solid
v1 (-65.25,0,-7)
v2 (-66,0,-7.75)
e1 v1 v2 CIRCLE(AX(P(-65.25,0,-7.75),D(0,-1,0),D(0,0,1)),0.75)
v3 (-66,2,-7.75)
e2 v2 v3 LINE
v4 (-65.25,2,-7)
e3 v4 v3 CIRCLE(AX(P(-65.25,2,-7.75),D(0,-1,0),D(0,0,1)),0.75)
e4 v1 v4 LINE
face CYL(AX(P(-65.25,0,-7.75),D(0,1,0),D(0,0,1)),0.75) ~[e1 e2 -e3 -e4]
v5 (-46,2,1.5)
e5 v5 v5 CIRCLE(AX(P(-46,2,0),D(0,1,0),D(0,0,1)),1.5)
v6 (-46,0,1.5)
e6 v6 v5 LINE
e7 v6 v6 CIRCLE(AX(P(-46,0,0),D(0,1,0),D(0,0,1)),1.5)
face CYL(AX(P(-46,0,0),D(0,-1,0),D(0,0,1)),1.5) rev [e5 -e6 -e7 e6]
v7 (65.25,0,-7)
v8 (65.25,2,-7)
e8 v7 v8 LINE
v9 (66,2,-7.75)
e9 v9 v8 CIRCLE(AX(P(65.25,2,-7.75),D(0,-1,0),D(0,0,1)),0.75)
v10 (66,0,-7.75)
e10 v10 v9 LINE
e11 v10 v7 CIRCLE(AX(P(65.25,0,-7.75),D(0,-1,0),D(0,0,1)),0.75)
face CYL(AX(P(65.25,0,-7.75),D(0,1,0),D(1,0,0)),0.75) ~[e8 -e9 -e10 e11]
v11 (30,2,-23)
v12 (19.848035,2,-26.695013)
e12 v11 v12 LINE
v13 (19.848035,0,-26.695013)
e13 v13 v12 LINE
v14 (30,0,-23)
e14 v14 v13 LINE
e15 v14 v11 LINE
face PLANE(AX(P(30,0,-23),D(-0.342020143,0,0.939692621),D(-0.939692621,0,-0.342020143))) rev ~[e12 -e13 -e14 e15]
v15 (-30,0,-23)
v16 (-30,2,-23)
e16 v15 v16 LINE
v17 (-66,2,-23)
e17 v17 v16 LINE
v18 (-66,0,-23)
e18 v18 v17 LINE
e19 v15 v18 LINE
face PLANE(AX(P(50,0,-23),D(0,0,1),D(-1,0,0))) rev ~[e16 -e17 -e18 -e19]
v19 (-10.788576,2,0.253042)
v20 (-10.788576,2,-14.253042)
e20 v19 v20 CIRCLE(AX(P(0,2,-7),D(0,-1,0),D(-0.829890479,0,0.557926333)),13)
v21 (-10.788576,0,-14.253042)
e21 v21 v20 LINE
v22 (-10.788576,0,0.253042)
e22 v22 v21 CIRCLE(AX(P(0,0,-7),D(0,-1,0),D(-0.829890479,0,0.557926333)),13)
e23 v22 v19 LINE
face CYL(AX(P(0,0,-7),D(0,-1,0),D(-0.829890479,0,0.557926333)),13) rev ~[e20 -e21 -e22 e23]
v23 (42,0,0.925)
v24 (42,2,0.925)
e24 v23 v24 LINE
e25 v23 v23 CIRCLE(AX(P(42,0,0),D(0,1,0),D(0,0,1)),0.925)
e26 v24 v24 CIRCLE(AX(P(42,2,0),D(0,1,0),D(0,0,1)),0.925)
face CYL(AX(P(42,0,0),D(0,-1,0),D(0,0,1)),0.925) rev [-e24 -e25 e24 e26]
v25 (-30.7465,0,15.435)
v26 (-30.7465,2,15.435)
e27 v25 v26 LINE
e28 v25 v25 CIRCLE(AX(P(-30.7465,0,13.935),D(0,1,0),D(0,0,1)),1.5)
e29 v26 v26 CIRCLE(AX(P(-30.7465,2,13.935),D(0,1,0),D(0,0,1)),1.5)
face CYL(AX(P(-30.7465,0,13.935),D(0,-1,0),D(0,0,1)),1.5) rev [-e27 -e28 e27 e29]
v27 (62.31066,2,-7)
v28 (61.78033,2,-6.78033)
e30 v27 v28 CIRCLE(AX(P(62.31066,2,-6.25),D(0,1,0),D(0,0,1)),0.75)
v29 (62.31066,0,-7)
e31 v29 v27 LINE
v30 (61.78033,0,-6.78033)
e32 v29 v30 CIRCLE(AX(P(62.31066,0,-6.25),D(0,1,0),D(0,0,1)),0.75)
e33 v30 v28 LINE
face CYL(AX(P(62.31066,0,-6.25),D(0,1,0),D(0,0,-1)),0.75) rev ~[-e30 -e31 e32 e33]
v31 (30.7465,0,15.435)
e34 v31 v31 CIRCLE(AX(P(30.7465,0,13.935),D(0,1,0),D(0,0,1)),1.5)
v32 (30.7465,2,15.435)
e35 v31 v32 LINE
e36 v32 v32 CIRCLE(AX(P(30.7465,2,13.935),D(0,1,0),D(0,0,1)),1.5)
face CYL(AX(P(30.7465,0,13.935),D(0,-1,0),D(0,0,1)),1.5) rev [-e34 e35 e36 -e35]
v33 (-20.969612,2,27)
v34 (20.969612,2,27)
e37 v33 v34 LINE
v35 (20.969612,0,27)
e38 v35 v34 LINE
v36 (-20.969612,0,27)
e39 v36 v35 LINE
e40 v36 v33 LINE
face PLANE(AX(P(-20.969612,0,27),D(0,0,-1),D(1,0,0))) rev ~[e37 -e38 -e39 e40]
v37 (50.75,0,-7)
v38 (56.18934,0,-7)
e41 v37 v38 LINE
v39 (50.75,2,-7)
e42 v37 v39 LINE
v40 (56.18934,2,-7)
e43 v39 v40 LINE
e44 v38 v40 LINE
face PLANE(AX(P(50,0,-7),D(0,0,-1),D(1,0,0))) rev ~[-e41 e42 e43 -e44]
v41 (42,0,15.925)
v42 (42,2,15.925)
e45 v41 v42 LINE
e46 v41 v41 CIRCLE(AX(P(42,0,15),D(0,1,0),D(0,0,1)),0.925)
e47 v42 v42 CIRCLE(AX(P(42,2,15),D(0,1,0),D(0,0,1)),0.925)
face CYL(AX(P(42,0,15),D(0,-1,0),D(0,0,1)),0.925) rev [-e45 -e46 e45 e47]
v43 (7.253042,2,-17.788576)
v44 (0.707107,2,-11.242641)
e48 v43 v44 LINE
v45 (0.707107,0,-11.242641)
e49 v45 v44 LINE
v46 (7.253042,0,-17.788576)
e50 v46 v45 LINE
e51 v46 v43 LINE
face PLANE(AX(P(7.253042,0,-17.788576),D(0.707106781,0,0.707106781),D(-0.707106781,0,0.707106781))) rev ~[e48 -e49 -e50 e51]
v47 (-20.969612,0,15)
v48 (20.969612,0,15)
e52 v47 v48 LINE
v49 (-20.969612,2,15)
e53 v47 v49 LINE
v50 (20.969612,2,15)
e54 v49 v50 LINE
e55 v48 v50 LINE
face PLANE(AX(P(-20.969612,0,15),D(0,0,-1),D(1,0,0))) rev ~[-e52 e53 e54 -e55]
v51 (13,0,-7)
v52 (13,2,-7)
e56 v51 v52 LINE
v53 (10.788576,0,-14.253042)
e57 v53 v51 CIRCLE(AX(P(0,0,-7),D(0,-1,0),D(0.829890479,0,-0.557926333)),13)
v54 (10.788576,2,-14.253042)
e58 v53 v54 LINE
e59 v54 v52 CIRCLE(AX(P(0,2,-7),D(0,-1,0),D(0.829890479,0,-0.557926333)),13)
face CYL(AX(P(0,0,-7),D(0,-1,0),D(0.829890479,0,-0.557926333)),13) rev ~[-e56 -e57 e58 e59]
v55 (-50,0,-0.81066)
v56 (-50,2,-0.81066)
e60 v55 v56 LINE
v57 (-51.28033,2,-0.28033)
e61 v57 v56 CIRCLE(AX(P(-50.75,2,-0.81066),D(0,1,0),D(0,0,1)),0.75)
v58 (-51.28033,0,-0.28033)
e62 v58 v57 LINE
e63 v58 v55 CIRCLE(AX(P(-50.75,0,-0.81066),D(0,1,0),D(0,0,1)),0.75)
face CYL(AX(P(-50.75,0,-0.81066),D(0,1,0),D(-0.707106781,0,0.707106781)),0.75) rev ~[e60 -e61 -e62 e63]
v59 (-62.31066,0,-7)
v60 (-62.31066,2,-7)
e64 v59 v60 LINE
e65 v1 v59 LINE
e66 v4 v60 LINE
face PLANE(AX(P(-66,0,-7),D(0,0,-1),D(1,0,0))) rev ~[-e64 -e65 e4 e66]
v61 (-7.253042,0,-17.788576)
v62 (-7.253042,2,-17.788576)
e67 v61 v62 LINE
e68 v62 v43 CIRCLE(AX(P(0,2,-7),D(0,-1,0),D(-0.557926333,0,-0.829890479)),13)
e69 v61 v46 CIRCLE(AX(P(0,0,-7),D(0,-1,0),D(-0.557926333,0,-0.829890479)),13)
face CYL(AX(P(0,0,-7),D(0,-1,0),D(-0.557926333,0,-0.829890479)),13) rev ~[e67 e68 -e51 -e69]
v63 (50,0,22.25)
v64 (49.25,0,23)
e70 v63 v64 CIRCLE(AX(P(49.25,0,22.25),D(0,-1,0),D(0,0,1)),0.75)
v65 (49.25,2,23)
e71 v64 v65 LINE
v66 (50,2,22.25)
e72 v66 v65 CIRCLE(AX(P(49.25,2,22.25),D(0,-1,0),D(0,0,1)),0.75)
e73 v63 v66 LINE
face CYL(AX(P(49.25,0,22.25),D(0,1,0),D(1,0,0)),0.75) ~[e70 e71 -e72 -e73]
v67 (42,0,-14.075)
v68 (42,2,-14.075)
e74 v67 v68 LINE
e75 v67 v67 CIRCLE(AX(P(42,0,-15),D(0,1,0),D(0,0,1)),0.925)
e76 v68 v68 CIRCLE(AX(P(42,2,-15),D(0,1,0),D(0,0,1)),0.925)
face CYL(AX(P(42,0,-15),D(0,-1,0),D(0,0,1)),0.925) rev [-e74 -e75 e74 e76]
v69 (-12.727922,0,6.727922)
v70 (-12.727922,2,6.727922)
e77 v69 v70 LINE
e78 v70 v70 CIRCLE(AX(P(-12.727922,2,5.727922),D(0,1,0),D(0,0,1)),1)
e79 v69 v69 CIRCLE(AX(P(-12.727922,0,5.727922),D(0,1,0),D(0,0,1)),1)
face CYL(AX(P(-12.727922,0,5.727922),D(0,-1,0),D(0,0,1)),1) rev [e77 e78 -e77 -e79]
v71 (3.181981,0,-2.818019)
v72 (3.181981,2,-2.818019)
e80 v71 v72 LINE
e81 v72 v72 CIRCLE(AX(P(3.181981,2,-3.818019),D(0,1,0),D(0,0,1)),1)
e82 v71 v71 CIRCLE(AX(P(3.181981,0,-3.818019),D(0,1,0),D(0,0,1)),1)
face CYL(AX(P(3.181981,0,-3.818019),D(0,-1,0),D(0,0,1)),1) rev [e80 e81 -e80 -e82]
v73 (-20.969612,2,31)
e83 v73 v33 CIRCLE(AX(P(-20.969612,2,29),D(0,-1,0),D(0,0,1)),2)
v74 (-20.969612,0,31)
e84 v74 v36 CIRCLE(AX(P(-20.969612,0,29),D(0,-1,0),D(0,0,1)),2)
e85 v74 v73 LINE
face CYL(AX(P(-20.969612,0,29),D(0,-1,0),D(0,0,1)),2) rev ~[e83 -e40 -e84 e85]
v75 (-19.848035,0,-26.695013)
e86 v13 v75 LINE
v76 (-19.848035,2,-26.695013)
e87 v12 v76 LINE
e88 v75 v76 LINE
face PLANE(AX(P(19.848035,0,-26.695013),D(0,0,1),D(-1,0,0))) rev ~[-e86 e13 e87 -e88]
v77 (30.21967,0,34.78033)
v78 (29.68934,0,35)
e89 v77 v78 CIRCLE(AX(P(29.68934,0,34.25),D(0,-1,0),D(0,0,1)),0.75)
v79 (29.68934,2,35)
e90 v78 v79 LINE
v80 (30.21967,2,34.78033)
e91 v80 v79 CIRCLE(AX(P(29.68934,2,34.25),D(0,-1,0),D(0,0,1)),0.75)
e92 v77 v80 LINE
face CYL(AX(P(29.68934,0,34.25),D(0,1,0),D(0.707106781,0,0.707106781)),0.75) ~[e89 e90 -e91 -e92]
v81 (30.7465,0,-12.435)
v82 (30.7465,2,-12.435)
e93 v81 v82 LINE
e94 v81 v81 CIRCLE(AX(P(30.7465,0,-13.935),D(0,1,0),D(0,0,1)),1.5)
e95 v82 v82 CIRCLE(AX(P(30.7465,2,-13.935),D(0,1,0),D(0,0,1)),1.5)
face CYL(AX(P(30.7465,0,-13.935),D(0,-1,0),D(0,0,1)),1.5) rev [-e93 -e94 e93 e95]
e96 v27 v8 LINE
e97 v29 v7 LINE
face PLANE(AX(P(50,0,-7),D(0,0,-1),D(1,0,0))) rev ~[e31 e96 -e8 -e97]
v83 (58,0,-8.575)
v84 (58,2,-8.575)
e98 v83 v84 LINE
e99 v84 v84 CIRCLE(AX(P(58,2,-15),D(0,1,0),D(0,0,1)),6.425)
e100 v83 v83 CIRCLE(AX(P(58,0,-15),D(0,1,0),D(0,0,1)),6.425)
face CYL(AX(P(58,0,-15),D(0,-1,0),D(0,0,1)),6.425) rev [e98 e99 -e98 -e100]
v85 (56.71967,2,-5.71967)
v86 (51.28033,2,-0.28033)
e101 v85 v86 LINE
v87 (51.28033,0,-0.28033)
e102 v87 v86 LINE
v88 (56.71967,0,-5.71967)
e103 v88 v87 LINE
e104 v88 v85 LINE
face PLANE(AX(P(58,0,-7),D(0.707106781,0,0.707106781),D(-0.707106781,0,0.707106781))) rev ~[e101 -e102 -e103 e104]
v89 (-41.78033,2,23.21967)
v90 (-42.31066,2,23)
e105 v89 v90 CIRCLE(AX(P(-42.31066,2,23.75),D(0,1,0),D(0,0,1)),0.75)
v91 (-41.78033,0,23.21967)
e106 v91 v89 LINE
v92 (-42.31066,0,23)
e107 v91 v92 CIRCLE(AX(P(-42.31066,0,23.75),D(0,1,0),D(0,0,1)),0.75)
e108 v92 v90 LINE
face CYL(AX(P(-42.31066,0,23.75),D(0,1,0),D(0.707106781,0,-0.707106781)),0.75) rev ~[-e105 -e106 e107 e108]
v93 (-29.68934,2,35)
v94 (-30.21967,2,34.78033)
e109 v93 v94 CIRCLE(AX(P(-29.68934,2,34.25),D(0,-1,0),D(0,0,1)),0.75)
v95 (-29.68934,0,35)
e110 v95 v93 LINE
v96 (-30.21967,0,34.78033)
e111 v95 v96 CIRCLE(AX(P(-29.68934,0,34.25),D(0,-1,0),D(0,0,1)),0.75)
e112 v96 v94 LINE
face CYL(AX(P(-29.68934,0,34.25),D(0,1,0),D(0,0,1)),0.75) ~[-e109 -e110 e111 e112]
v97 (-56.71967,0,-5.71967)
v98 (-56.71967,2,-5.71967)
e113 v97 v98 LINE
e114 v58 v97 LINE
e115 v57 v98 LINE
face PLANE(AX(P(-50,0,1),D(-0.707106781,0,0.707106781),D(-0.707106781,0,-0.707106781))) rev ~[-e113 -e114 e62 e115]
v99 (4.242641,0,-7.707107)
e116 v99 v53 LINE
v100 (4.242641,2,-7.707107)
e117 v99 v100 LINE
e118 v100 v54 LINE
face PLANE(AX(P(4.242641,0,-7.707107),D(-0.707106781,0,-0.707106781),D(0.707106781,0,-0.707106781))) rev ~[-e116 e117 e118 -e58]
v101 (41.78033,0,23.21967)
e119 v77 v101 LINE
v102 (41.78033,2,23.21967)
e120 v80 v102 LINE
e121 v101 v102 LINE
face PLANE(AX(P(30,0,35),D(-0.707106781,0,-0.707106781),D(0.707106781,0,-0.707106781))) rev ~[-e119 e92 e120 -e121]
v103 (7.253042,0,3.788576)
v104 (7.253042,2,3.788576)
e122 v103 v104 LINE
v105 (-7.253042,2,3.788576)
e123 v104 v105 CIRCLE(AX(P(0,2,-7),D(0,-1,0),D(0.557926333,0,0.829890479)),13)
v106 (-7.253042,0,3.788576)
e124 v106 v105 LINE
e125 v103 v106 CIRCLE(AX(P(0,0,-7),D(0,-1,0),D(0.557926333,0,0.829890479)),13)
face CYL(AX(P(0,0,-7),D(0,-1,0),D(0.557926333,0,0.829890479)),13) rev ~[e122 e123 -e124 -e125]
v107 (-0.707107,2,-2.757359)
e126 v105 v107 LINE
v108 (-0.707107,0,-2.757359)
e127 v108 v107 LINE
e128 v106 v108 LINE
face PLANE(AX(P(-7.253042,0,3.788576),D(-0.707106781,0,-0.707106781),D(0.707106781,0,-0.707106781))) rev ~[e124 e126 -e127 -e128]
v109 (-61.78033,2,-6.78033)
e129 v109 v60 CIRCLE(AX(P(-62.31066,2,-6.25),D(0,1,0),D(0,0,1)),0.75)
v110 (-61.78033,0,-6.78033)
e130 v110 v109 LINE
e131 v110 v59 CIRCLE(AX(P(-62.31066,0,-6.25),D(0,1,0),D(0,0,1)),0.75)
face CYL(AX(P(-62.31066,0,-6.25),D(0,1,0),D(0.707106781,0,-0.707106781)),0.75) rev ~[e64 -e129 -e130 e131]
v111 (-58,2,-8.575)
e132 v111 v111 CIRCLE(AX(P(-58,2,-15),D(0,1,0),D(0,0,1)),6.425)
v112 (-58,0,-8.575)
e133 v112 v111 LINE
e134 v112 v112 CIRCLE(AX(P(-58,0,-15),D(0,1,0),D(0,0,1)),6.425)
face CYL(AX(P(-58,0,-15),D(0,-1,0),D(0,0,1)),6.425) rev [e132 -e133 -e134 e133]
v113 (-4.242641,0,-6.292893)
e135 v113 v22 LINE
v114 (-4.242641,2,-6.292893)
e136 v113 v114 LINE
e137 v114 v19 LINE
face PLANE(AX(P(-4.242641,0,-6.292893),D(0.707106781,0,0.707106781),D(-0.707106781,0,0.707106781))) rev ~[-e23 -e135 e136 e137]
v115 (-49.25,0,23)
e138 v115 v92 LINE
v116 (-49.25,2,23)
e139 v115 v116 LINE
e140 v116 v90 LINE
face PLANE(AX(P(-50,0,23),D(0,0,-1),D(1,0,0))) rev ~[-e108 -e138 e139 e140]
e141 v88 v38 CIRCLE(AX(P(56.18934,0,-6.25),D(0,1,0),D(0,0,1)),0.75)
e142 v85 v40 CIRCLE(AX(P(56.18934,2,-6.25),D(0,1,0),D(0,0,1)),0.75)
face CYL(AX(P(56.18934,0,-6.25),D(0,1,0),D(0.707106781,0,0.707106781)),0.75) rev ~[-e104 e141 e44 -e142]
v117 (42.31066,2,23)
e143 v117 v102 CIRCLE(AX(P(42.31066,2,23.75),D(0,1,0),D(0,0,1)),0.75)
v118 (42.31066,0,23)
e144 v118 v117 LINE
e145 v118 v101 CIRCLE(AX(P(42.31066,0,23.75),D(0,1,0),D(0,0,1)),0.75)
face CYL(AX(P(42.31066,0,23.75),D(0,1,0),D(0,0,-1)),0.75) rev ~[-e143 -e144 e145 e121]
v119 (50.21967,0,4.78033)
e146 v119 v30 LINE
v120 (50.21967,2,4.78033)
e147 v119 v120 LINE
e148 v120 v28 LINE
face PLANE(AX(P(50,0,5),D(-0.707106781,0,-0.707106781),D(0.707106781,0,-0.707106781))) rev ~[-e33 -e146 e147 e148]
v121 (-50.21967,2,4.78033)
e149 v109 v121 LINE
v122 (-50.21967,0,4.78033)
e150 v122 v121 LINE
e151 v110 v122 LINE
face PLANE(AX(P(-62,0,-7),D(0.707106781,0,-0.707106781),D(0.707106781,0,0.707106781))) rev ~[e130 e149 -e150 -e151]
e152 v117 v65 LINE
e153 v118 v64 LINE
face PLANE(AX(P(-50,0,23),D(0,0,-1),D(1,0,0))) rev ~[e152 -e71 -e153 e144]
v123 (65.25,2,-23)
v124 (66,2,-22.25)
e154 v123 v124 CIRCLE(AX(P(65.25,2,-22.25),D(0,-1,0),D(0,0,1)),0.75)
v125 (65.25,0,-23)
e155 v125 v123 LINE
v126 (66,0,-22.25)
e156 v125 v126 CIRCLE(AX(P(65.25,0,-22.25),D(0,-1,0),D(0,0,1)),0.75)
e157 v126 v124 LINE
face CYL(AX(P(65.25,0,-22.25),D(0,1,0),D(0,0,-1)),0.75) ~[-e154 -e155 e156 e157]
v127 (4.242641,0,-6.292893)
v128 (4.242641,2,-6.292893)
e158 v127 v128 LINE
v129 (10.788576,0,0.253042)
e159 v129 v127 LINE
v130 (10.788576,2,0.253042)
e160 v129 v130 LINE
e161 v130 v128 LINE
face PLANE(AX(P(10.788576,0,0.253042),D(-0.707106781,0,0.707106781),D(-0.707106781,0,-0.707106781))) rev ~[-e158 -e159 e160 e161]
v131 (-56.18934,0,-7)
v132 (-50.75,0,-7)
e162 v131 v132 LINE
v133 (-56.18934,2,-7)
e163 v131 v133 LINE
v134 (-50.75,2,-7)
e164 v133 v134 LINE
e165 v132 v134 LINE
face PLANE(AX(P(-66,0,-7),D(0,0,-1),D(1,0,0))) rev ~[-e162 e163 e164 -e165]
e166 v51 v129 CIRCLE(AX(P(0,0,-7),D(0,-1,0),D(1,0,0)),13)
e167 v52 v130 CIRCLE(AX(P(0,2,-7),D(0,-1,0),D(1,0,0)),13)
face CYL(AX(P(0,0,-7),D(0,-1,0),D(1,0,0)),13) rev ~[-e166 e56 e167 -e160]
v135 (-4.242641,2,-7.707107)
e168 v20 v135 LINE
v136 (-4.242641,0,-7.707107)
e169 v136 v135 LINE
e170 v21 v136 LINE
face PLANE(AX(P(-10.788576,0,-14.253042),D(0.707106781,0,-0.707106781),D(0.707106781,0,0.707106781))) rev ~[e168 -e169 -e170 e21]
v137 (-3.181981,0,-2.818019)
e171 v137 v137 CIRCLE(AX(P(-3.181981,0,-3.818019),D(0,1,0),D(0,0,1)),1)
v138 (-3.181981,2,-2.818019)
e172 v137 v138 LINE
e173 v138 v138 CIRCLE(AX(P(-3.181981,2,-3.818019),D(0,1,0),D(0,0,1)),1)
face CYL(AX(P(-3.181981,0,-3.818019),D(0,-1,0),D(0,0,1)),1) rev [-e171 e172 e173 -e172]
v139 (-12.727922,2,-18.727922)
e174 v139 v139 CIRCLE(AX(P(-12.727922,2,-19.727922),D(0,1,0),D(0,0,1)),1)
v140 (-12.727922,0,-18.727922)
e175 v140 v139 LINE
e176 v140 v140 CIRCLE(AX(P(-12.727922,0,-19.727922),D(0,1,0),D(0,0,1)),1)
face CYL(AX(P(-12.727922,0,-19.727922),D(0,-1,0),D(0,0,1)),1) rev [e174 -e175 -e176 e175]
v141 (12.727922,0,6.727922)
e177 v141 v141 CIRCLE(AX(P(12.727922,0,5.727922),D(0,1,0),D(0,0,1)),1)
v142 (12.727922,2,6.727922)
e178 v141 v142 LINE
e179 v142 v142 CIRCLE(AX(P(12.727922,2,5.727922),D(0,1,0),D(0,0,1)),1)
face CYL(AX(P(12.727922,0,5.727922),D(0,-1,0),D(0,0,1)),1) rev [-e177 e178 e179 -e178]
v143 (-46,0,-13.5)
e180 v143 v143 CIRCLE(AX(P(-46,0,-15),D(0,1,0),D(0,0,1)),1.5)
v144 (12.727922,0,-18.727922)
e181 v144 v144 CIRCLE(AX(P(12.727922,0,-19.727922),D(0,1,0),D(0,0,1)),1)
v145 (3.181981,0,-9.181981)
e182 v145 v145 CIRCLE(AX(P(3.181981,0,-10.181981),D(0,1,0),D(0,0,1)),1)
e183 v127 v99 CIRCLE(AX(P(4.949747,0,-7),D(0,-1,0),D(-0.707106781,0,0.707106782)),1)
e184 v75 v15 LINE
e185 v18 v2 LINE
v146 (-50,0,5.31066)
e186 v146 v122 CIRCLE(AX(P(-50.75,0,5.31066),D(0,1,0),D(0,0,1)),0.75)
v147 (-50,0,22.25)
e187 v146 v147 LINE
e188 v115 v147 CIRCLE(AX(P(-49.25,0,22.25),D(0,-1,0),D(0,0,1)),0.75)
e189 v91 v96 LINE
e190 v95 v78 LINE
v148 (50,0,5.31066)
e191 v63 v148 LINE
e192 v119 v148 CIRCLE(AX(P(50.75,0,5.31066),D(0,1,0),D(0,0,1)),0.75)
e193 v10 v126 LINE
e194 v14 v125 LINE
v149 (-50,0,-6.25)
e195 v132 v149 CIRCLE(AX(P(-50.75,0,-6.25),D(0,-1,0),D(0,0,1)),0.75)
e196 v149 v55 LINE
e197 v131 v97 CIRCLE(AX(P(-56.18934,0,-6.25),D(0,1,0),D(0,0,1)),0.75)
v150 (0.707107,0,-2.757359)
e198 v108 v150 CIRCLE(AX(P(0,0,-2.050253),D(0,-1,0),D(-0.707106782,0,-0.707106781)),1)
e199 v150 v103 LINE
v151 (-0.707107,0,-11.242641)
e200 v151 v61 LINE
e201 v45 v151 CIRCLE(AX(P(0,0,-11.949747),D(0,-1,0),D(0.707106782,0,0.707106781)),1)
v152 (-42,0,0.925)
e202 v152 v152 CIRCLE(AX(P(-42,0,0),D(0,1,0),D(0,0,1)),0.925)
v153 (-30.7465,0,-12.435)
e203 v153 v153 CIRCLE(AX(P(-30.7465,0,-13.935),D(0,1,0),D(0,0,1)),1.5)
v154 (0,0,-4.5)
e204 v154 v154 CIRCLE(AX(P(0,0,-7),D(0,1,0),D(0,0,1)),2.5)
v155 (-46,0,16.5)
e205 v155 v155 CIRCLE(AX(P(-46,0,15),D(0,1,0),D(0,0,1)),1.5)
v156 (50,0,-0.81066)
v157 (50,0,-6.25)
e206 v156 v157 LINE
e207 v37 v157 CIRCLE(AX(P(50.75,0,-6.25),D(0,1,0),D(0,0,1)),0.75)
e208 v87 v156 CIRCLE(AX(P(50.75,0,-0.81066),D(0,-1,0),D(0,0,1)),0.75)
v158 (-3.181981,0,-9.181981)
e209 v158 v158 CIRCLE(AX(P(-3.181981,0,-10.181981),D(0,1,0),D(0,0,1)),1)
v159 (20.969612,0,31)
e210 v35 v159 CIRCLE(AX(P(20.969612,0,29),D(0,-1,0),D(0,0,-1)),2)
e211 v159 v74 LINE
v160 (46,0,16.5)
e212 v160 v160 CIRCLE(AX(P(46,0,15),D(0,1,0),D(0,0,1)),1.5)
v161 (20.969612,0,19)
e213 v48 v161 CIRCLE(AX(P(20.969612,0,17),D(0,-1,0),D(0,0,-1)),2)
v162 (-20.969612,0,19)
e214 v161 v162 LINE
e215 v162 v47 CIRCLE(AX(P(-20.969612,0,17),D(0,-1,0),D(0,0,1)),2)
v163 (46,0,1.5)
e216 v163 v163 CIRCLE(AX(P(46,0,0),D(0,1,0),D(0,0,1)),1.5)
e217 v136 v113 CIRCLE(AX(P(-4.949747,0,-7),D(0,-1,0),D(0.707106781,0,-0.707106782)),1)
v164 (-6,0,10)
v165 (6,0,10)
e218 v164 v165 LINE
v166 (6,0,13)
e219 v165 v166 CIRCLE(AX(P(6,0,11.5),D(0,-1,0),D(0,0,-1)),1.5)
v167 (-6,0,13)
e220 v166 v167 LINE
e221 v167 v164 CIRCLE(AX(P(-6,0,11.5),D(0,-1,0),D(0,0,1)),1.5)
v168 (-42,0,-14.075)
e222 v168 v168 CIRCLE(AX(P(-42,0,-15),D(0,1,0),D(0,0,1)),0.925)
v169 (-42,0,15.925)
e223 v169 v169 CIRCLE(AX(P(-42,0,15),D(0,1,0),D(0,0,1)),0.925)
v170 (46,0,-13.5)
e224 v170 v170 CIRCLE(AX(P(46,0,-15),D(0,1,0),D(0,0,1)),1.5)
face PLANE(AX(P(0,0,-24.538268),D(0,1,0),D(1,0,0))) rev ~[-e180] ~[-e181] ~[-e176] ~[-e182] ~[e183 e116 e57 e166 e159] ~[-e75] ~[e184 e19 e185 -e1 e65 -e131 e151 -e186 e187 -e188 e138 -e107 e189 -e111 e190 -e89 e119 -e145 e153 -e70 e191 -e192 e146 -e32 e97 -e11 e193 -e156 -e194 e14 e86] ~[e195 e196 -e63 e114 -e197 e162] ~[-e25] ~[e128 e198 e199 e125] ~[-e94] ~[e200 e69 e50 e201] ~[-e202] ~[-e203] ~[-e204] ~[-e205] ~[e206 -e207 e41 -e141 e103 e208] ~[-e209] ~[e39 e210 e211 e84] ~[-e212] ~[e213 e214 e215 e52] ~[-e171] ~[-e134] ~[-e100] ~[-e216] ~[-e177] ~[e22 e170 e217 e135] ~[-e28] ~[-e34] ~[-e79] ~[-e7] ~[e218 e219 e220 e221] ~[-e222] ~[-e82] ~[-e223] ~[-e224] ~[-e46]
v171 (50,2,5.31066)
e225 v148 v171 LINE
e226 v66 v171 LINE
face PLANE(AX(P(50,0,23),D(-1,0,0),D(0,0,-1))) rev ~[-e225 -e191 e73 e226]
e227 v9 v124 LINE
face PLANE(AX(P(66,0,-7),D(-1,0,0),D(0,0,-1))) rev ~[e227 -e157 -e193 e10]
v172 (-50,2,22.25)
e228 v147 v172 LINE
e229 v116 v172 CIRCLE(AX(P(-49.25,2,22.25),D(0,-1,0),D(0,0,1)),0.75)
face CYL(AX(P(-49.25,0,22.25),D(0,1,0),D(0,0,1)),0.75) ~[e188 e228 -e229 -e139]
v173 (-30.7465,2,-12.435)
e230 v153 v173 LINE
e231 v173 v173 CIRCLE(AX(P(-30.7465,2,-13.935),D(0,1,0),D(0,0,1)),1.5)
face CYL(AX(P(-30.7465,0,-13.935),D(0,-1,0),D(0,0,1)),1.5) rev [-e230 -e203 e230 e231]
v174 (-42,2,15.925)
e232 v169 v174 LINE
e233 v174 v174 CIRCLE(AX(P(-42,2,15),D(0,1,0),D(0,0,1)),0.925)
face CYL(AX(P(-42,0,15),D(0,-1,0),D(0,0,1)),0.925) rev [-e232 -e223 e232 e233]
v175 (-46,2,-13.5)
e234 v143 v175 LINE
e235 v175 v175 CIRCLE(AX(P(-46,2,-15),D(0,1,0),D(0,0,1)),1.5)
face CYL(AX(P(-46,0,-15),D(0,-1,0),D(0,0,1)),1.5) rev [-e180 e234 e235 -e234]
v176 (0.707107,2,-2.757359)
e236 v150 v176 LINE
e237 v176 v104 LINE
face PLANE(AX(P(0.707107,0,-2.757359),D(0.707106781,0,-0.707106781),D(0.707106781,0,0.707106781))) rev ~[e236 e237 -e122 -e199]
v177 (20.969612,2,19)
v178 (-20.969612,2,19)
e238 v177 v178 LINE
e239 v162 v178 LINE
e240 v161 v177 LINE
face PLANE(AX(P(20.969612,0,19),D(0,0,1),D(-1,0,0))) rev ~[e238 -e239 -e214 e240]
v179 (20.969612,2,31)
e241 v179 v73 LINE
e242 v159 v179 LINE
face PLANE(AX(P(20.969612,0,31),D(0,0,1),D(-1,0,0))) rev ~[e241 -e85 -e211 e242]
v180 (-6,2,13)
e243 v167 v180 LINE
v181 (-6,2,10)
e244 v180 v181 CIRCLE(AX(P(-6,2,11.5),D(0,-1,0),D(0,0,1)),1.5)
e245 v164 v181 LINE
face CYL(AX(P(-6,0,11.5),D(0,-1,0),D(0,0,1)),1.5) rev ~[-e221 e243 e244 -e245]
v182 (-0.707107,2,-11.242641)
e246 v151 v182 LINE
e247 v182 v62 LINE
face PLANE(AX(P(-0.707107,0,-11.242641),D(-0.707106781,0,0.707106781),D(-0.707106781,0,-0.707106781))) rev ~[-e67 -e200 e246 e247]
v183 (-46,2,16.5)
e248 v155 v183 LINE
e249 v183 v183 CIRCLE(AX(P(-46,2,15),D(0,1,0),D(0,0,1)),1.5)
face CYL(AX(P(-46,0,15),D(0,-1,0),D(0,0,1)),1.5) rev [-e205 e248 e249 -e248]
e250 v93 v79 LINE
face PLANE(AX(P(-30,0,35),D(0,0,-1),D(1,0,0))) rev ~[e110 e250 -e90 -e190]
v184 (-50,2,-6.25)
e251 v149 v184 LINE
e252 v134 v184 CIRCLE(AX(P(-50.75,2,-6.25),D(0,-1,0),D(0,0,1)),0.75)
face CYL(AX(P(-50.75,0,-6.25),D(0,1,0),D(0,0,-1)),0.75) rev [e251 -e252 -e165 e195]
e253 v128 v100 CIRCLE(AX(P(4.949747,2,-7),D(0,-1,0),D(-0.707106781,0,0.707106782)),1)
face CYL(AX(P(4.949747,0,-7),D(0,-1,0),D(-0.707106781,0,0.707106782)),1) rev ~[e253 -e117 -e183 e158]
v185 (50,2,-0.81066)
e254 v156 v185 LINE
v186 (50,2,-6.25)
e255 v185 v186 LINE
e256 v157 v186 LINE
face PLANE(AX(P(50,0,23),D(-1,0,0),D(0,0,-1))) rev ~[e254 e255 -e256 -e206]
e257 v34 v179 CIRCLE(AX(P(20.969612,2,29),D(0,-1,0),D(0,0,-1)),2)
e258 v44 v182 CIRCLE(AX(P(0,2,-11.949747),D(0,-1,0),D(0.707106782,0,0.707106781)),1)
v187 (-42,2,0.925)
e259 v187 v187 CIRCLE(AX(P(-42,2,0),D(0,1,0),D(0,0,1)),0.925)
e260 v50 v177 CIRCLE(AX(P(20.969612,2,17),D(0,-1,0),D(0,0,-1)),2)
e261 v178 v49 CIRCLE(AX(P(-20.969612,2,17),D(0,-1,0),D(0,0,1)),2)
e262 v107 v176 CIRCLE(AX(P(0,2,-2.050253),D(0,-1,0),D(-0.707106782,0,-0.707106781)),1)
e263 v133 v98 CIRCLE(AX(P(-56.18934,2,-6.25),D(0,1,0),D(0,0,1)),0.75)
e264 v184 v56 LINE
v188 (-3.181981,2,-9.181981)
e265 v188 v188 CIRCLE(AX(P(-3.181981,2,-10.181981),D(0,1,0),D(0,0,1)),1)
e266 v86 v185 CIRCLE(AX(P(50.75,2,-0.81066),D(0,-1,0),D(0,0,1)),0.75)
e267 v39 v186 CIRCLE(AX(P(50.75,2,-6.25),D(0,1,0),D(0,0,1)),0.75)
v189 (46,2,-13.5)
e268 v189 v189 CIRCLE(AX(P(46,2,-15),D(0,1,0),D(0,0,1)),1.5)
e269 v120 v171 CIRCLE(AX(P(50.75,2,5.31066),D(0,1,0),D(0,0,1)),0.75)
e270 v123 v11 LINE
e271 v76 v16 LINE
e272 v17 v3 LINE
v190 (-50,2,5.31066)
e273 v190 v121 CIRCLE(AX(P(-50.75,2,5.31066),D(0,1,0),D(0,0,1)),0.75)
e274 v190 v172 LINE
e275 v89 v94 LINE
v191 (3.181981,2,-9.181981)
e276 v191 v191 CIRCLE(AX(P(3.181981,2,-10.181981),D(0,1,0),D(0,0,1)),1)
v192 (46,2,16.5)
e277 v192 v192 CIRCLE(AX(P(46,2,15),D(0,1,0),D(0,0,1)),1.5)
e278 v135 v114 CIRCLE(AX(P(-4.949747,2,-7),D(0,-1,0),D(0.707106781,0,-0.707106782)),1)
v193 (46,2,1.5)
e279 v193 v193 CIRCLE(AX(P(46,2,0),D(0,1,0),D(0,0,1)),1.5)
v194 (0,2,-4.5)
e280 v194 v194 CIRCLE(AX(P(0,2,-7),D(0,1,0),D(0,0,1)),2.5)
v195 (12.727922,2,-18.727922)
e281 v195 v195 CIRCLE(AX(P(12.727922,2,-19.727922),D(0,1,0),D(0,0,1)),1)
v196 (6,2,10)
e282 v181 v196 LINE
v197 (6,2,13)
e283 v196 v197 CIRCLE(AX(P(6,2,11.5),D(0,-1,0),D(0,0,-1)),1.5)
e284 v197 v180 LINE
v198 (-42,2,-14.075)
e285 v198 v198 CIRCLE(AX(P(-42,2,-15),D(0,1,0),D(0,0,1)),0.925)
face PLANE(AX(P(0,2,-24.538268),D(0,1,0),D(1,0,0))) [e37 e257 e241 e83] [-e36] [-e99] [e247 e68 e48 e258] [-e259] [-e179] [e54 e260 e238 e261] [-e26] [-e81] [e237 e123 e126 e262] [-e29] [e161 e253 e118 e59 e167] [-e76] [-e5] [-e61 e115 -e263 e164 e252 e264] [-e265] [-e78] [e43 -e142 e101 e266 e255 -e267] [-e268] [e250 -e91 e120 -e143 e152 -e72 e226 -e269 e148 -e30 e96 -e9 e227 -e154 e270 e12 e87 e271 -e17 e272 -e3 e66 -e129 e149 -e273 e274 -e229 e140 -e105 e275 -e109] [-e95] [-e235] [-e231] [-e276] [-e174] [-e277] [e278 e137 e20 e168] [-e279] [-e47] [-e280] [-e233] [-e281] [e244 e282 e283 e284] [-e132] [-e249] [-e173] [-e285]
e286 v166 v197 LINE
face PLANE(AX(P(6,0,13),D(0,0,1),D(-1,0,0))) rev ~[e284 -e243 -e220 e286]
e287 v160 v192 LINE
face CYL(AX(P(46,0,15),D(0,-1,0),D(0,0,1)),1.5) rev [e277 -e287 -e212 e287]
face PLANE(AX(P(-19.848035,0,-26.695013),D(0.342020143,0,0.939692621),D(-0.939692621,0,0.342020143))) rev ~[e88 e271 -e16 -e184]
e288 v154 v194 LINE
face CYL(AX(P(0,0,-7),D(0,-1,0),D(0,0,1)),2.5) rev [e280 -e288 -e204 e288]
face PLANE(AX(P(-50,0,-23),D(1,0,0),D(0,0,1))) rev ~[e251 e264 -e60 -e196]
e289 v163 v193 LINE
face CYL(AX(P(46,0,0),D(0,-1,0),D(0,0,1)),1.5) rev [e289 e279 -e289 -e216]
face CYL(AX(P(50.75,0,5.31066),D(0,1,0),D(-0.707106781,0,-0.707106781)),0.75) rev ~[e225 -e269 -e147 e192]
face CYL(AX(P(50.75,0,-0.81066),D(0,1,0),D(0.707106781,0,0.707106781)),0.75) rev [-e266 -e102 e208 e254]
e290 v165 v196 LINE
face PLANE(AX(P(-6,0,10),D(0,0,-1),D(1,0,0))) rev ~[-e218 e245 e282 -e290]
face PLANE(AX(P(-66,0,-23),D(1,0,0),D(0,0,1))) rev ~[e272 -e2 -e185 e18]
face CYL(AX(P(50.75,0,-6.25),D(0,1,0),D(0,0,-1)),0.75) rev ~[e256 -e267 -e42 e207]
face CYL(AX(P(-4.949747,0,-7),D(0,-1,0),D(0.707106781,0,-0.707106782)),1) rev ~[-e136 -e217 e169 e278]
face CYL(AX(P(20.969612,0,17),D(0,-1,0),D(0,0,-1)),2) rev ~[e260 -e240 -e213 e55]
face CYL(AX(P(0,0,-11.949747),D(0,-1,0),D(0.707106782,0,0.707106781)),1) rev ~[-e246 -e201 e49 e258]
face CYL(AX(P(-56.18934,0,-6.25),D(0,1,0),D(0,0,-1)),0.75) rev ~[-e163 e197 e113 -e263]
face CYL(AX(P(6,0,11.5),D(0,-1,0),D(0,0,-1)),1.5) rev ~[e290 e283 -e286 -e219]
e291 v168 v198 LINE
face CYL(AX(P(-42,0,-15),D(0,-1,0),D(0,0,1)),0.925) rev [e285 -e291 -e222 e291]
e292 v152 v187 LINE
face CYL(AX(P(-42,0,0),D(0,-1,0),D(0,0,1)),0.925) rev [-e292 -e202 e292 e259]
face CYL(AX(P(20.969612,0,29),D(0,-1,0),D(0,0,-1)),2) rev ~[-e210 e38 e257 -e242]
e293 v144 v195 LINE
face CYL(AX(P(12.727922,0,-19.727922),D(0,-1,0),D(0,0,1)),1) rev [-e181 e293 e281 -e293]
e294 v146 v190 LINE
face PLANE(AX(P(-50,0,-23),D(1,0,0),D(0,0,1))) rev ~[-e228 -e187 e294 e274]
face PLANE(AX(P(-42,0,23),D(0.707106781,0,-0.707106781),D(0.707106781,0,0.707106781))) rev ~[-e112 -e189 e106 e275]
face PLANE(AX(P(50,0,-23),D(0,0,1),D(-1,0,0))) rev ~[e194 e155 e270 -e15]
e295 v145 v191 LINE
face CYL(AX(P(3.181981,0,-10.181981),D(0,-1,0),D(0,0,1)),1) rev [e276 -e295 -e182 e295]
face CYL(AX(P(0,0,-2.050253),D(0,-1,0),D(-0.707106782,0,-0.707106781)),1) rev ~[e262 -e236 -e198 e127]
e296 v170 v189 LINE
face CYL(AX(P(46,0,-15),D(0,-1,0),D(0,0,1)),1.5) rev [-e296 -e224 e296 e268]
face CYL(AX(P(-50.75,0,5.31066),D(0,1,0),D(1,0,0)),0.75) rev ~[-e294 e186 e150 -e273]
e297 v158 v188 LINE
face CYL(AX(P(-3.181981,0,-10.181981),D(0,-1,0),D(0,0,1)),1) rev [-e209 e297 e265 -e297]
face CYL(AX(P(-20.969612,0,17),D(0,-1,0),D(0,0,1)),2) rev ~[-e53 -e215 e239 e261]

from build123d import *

# Parameters (mm, degrees)
SKETCH_1_R      = 1.5
SKETCH_1_R_2    = 0.925
SKETCH_1_R_3    = 1
SKETCH_1_R_4    = 15
SKETCH_1_R_5    = 2.5
SKETCH_1_R_6    = 6.425
EXTRUDE_1_DEPTH = 2
FILLET_1_R      = 0.75


with BuildPart() as part:
    # 草图1 → 凸台-拉伸1 (new body)
    # profile 1 of 11: a face of its own
    with BuildSketch(Plane(origin=(0, 0, 0), x_dir=(1, 0, 0), z_dir=(0, 1, 0))):
        Polygon((-19.848034865, 26.695013128), (-30, 23), (30, 23), (19.848034865, 26.695013128), (0.026493373, 26.695013128), (-0.026493373, 26.695013128), align=None)
    # profile 2 of 11: a face of its own
    with BuildSketch(Plane(origin=(0, 0, 0), x_dir=(1, 0, 0), z_dir=(0, 1, 0))):
        Polygon((-19.848034865, 26.695013128), (-30, 23), (30, 23), (19.848034865, 26.695013128), (0.026493373, 26.695013128), (-0.026493373, 26.695013128), align=None)
    # profile 3 of 11: a face of its own
    with BuildSketch(Plane(origin=(0, 0, 0), x_dir=(1, 0, 0), z_dir=(0, 1, 0))):
        Polygon((-30, 23), (-50, 23), (-50, 7), (-50, -1), (-50, -5), (-50, -23), (-42, -23), (42, -23), (50, -23), (50, -5), (50, -1), (50, 7), (50, 23), (30, 23), align=None)
        with Locations(Location((-46, -15, 0), (0, 0, 270))):
            Circle(SKETCH_1_R, mode=Mode.SUBTRACT)
        with Locations(Location((-42, -15, 0), (0, 0, 270))):
            Circle(SKETCH_1_R_2, mode=Mode.SUBTRACT)
        with Locations(Location((-30.7465, -13.935, 0), (0, 0, 270))):
            Circle(SKETCH_1_R, mode=Mode.SUBTRACT)
        with Locations(Location((-12.727922061, -5.727922061, 0), (0, 0, 270))):
            Circle(SKETCH_1_R_3, mode=Mode.SUBTRACT)
        with BuildLine():
            ThreePointArc((-20.969611628, -19), (-22.969611628, -17), (-20.969611628, -15))
            Line((-20.969611628, -15), (20.969611628, -15))
            ThreePointArc((20.969611628, -15), (22.969611628, -17), (20.969611628, -19))
            Line((20.969611628, -19), (-20.969611628, -19))
        make_face(mode=Mode.SUBTRACT)
        with Locations(Location((30.7465, -13.935, 0), (0, 0, 270))):
            Circle(SKETCH_1_R, mode=Mode.SUBTRACT)
        with BuildLine():
            ThreePointArc((-6, -13), (-7.5, -11.5), (-6, -10))
            Line((-6, -10), (6, -10))
            ThreePointArc((6, -10), (7.5, -11.5), (6, -13))
            Line((6, -13), (-6, -13))
        make_face(mode=Mode.SUBTRACT)
        with Locations(Location((12.727922061, -5.727922061, 0), (0, 0, 270))):
            Circle(SKETCH_1_R_3, mode=Mode.SUBTRACT)
        with Locations(Location((42, -15, 0), (0, 0, 270))):
            Circle(SKETCH_1_R_2, mode=Mode.SUBTRACT)
        with Locations(Location((46, -15, 0), (0, 0, 270))):
            Circle(SKETCH_1_R, mode=Mode.SUBTRACT)
        with Locations(Location((-46, 0, 0), (0, 0, 270))):
            Circle(SKETCH_1_R, mode=Mode.SUBTRACT)
        with Locations(Location((-42, 0, 0), (0, 0, 270))):
            Circle(SKETCH_1_R_2, mode=Mode.SUBTRACT)
        with Locations(Location((-46, 15, 0), (0, 0, 270))):
            Circle(SKETCH_1_R, mode=Mode.SUBTRACT)
        with Locations(Location((-42, 15, 0), (0, 0, 270))):
            Circle(SKETCH_1_R_2, mode=Mode.SUBTRACT)
        with Locations(Location((-30.7465, 13.935, 0), (0, 0, 270))):
            Circle(SKETCH_1_R, mode=Mode.SUBTRACT)
        with Locations(Location((-12.727922061, 19.727922061, 0), (0, 0, 270))):
            Circle(SKETCH_1_R_3, mode=Mode.SUBTRACT)
        with Locations((0, 7)):
            Circle(SKETCH_1_R_4, mode=Mode.SUBTRACT)
        with Locations(Location((42, 0, 0), (0, 0, 270))):
            Circle(SKETCH_1_R_2, mode=Mode.SUBTRACT)
        with Locations(Location((46, 0, 0), (0, 0, 270))):
            Circle(SKETCH_1_R, mode=Mode.SUBTRACT)
        with Locations(Location((30.7465, 13.935, 0), (0, 0, 270))):
            Circle(SKETCH_1_R, mode=Mode.SUBTRACT)
        with Locations(Location((12.727922061, 19.727922061, 0), (0, 0, 270))):
            Circle(SKETCH_1_R_3, mode=Mode.SUBTRACT)
        with Locations(Location((42, 15, 0), (0, 0, 270))):
            Circle(SKETCH_1_R_2, mode=Mode.SUBTRACT)
        with Locations(Location((46, 15, 0), (0, 0, 270))):
            Circle(SKETCH_1_R, mode=Mode.SUBTRACT)
    # profile 4 of 11: a face of its own
    with BuildSketch(Plane(origin=(0, 0, 0), x_dir=(1, 0, 0), z_dir=(0, 1, 0))):
        Polygon((-30, 23), (-50, 23), (-50, 7), (-50, -1), (-50, -5), (-50, -23), (-42, -23), (42, -23), (50, -23), (50, -5), (50, -1), (50, 7), (50, 23), (30, 23), align=None)
        with Locations(Location((-46, -15, 0), (0, 0, 270))):
            Circle(SKETCH_1_R, mode=Mode.SUBTRACT)
        with Locations(Location((-42, -15, 0), (0, 0, 270))):
            Circle(SKETCH_1_R_2, mode=Mode.SUBTRACT)
        with Locations(Location((-30.7465, -13.935, 0), (0, 0, 270))):
            Circle(SKETCH_1_R, mode=Mode.SUBTRACT)
        with Locations(Location((-12.727922061, -5.727922061, 0), (0, 0, 270))):
            Circle(SKETCH_1_R_3, mode=Mode.SUBTRACT)
        with BuildLine():
            ThreePointArc((-20.969611628, -19), (-22.969611628, -17), (-20.969611628, -15))
            Line((-20.969611628, -15), (20.969611628, -15))
            ThreePointArc((20.969611628, -15), (22.969611628, -17), (20.969611628, -19))
            Line((20.969611628, -19), (-20.969611628, -19))
        make_face(mode=Mode.SUBTRACT)
        with Locations(Location((30.7465, -13.935, 0), (0, 0, 270))):
            Circle(SKETCH_1_R, mode=Mode.SUBTRACT)
        with BuildLine():
            ThreePointArc((-6, -13), (-7.5, -11.5), (-6, -10))
            Line((-6, -10), (6, -10))
            ThreePointArc((6, -10), (7.5, -11.5), (6, -13))
            Line((6, -13), (-6, -13))
        make_face(mode=Mode.SUBTRACT)
        with Locations(Location((12.727922061, -5.727922061, 0), (0, 0, 270))):
            Circle(SKETCH_1_R_3, mode=Mode.SUBTRACT)
        with Locations(Location((42, -15, 0), (0, 0, 270))):
            Circle(SKETCH_1_R_2, mode=Mode.SUBTRACT)
        with Locations(Location((46, -15, 0), (0, 0, 270))):
            Circle(SKETCH_1_R, mode=Mode.SUBTRACT)
        with Locations(Location((-46, 0, 0), (0, 0, 270))):
            Circle(SKETCH_1_R, mode=Mode.SUBTRACT)
        with Locations(Location((-42, 0, 0), (0, 0, 270))):
            Circle(SKETCH_1_R_2, mode=Mode.SUBTRACT)
        with Locations(Location((-46, 15, 0), (0, 0, 270))):
            Circle(SKETCH_1_R, mode=Mode.SUBTRACT)
        with Locations(Location((-42, 15, 0), (0, 0, 270))):
            Circle(SKETCH_1_R_2, mode=Mode.SUBTRACT)
        with Locations(Location((-30.7465, 13.935, 0), (0, 0, 270))):
            Circle(SKETCH_1_R, mode=Mode.SUBTRACT)
        with Locations(Location((-12.727922061, 19.727922061, 0), (0, 0, 270))):
            Circle(SKETCH_1_R_3, mode=Mode.SUBTRACT)
        with Locations((0, 7)):
            Circle(SKETCH_1_R_4, mode=Mode.SUBTRACT)
        with Locations(Location((42, 0, 0), (0, 0, 270))):
            Circle(SKETCH_1_R_2, mode=Mode.SUBTRACT)
        with Locations(Location((46, 0, 0), (0, 0, 270))):
            Circle(SKETCH_1_R, mode=Mode.SUBTRACT)
        with Locations(Location((30.7465, 13.935, 0), (0, 0, 270))):
            Circle(SKETCH_1_R, mode=Mode.SUBTRACT)
        with Locations(Location((12.727922061, 19.727922061, 0), (0, 0, 270))):
            Circle(SKETCH_1_R_3, mode=Mode.SUBTRACT)
        with Locations(Location((42, 15, 0), (0, 0, 270))):
            Circle(SKETCH_1_R_2, mode=Mode.SUBTRACT)
        with Locations(Location((46, 15, 0), (0, 0, 270))):
            Circle(SKETCH_1_R, mode=Mode.SUBTRACT)
    # profile 5 of 11: a face of its own
    with BuildSketch(Plane(origin=(0, 0, 0), x_dir=(1, 0, 0), z_dir=(0, 1, 0))):
        with Locations((0, 7)):
            Circle(SKETCH_1_R_4)
        with BuildLine():
            ThreePointArc((13, 7), (12.434860091, 3.208660592), (10.788576229, -0.253042323))
            ThreePointArc((10.788576229, -0.253042323), (9.192388155, -2.192388155), (7.253042323, -3.788576229))
            ThreePointArc((7.253042323, -3.788576229), (0, -6), (-7.253042323, -3.788576229))
            ThreePointArc((-7.253042323, -3.788576229), (-9.192388155, -2.192388155), (-10.788576229, -0.253042323))
            ThreePointArc((-10.788576229, -0.253042323), (-13, 7), (-10.788576229, 14.253042323))
            ThreePointArc((-10.788576229, 14.253042323), (-9.192388155, 16.192388155), (-7.253042323, 17.788576229))
            ThreePointArc((-7.253042323, 17.788576229), (0, 20), (7.253042323, 17.788576229))
            ThreePointArc((7.253042323, 17.788576229), (9.192388155, 16.192388155), (10.788576229, 14.253042323))
            ThreePointArc((10.788576229, 14.253042323), (12.434860091, 10.791339408), (13, 7))
        make_face(mode=Mode.SUBTRACT)
    # profile 6 of 11: a face of its own
    with BuildSketch(Plane(origin=(0, 0, 0), x_dir=(1, 0, 0), z_dir=(0, 1, 0))):
        with BuildLine():
            ThreePointArc((7.253042323, -3.788576229), (9.192388155, -2.192388155), (10.788576229, -0.253042323))
            Line((10.788576229, -0.253042323), (4.242640687, 6.292893219))
            ThreePointArc((4.242640687, 6.292893219), (3.949747468, 7), (4.242640687, 7.707106781))
            Line((4.242640687, 7.707106781), (10.788576229, 14.253042323))
            ThreePointArc((10.788576229, 14.253042323), (9.192388155, 16.192388155), (7.253042323, 17.788576229))
            Line((7.253042323, 17.788576229), (0.707106781, 11.242640687))
            ThreePointArc((0.707106781, 11.242640687), (0, 10.949747468), (-0.707106781, 11.242640687))
            Line((-0.707106781, 11.242640687), (-7.253042323, 17.788576229))
            ThreePointArc((-7.253042323, 17.788576229), (-9.192388155, 16.192388155), (-10.788576229, 14.253042323))
            Line((-10.788576229, 14.253042323), (-4.242640687, 7.707106781))
            ThreePointArc((-4.242640687, 7.707106781), (-3.949747468, 7), (-4.242640687, 6.292893219))
            Line((-4.242640687, 6.292893219), (-10.788576229, -0.253042323))
            ThreePointArc((-10.788576229, -0.253042323), (-9.192388155, -2.192388155), (-7.253042323, -3.788576229))
            Line((-7.253042323, -3.788576229), (-0.707106781, 2.757359313))
            ThreePointArc((-0.707106781, 2.757359313), (0, 3.050252532), (0.707106781, 2.757359313))
            Line((0.707106781, 2.757359313), (7.253042323, -3.788576229))
        make_face()
        with Locations(Location((-3.181980515, 3.818019485, 0), (0, 0, 270))):
            Circle(SKETCH_1_R_3, mode=Mode.SUBTRACT)
        with Locations(Location((-3.181980515, 10.181980515, 0), (0, 0, 270))):
            Circle(SKETCH_1_R_3, mode=Mode.SUBTRACT)
        with Locations(Location((3.181980515, 3.818019485, 0), (0, 0, 270))):
            Circle(SKETCH_1_R_3, mode=Mode.SUBTRACT)
        with Locations(Location((0, 7, 0), (0, 0, 270))):
            Circle(SKETCH_1_R_5, mode=Mode.SUBTRACT)
        with Locations(Location((3.181980515, 10.181980515, 0), (0, 0, 270))):
            Circle(SKETCH_1_R_3, mode=Mode.SUBTRACT)
    # profile 7 of 11: a face of its own
    with BuildSketch(Plane(origin=(0, 0, 0), x_dir=(1, 0, 0), z_dir=(0, 1, 0))):
        Polygon((42, -23), (-42, -23), (-30, -35), (30, -35), align=None)
        with BuildLine():
            ThreePointArc((-20.969611628, -31), (-22.969611628, -29), (-20.969611628, -27))
            Line((-20.969611628, -27), (20.969611628, -27))
            ThreePointArc((20.969611628, -27), (22.969611628, -29), (20.969611628, -31))
            Line((20.969611628, -31), (-20.969611628, -31))
        make_face(mode=Mode.SUBTRACT)
    # profile 8 of 11: a face of its own
    with BuildSketch(Plane(origin=(0, 0, 0), x_dir=(1, 0, 0), z_dir=(0, 1, 0))):
        Polygon((-50, -5), (-50, -1), (-58, 7), (-62, 7), align=None)
    # profile 9 of 11: a face of its own
    with BuildSketch(Plane(origin=(0, 0, 0), x_dir=(1, 0, 0), z_dir=(0, 1, 0))):
        Polygon((-50, 7), (-50, 23), (-66, 23), (-66, 7), (-62, 7), (-58, 7), align=None)
        with Locations(Location((-58, 15, 0), (0, 0, 270))):
            Circle(SKETCH_1_R_6, mode=Mode.SUBTRACT)
    # profile 10 of 11: a face of its own
    with BuildSketch(Plane(origin=(0, 0, 0), x_dir=(1, 0, 0), z_dir=(0, 1, 0))):
        Polygon((66, 23), (50, 23), (50, 7), (58, 7), (62, 7), (66, 7), align=None)
        with Locations(Location((58, 15, 0), (0, 0, 270))):
            Circle(SKETCH_1_R_6, mode=Mode.SUBTRACT)
    # profile 11 of 11: a face of its own
    with BuildSketch(Plane(origin=(0, 0, 0), x_dir=(1, 0, 0), z_dir=(0, 1, 0))):
        Polygon((58, 7), (50, -1), (50, -5), (62, 7), align=None)
    extrude(amount=EXTRUDE_1_DEPTH)

    # 圆角1
    fillet_1_edges = [part.edges().sort_by_distance(p)[0] for p in [
        (66, 1, -23),
        (66, 1, -7),
        (62, 1, -7),
        (50, 1, 5),
        (50, 1, 23),
        (42, 1, 23),
        (30, 1, 35),
        (-30, 1, 35),
        (-42, 1, 23),
        (-50, 1, 23),
        (-50, 1, 5),
        (-62, 1, -7),
        (-66, 1, -7),
        (50, 1, -7),
        (50, 1, 1),
        (58, 1, -7),
        (-50, 1, 1),
        (-50, 1, -7),
        (-58, 1, -7),
    ]]
    fillet(fillet_1_edges, radius=FILLET_1_R)


solid = part.part
